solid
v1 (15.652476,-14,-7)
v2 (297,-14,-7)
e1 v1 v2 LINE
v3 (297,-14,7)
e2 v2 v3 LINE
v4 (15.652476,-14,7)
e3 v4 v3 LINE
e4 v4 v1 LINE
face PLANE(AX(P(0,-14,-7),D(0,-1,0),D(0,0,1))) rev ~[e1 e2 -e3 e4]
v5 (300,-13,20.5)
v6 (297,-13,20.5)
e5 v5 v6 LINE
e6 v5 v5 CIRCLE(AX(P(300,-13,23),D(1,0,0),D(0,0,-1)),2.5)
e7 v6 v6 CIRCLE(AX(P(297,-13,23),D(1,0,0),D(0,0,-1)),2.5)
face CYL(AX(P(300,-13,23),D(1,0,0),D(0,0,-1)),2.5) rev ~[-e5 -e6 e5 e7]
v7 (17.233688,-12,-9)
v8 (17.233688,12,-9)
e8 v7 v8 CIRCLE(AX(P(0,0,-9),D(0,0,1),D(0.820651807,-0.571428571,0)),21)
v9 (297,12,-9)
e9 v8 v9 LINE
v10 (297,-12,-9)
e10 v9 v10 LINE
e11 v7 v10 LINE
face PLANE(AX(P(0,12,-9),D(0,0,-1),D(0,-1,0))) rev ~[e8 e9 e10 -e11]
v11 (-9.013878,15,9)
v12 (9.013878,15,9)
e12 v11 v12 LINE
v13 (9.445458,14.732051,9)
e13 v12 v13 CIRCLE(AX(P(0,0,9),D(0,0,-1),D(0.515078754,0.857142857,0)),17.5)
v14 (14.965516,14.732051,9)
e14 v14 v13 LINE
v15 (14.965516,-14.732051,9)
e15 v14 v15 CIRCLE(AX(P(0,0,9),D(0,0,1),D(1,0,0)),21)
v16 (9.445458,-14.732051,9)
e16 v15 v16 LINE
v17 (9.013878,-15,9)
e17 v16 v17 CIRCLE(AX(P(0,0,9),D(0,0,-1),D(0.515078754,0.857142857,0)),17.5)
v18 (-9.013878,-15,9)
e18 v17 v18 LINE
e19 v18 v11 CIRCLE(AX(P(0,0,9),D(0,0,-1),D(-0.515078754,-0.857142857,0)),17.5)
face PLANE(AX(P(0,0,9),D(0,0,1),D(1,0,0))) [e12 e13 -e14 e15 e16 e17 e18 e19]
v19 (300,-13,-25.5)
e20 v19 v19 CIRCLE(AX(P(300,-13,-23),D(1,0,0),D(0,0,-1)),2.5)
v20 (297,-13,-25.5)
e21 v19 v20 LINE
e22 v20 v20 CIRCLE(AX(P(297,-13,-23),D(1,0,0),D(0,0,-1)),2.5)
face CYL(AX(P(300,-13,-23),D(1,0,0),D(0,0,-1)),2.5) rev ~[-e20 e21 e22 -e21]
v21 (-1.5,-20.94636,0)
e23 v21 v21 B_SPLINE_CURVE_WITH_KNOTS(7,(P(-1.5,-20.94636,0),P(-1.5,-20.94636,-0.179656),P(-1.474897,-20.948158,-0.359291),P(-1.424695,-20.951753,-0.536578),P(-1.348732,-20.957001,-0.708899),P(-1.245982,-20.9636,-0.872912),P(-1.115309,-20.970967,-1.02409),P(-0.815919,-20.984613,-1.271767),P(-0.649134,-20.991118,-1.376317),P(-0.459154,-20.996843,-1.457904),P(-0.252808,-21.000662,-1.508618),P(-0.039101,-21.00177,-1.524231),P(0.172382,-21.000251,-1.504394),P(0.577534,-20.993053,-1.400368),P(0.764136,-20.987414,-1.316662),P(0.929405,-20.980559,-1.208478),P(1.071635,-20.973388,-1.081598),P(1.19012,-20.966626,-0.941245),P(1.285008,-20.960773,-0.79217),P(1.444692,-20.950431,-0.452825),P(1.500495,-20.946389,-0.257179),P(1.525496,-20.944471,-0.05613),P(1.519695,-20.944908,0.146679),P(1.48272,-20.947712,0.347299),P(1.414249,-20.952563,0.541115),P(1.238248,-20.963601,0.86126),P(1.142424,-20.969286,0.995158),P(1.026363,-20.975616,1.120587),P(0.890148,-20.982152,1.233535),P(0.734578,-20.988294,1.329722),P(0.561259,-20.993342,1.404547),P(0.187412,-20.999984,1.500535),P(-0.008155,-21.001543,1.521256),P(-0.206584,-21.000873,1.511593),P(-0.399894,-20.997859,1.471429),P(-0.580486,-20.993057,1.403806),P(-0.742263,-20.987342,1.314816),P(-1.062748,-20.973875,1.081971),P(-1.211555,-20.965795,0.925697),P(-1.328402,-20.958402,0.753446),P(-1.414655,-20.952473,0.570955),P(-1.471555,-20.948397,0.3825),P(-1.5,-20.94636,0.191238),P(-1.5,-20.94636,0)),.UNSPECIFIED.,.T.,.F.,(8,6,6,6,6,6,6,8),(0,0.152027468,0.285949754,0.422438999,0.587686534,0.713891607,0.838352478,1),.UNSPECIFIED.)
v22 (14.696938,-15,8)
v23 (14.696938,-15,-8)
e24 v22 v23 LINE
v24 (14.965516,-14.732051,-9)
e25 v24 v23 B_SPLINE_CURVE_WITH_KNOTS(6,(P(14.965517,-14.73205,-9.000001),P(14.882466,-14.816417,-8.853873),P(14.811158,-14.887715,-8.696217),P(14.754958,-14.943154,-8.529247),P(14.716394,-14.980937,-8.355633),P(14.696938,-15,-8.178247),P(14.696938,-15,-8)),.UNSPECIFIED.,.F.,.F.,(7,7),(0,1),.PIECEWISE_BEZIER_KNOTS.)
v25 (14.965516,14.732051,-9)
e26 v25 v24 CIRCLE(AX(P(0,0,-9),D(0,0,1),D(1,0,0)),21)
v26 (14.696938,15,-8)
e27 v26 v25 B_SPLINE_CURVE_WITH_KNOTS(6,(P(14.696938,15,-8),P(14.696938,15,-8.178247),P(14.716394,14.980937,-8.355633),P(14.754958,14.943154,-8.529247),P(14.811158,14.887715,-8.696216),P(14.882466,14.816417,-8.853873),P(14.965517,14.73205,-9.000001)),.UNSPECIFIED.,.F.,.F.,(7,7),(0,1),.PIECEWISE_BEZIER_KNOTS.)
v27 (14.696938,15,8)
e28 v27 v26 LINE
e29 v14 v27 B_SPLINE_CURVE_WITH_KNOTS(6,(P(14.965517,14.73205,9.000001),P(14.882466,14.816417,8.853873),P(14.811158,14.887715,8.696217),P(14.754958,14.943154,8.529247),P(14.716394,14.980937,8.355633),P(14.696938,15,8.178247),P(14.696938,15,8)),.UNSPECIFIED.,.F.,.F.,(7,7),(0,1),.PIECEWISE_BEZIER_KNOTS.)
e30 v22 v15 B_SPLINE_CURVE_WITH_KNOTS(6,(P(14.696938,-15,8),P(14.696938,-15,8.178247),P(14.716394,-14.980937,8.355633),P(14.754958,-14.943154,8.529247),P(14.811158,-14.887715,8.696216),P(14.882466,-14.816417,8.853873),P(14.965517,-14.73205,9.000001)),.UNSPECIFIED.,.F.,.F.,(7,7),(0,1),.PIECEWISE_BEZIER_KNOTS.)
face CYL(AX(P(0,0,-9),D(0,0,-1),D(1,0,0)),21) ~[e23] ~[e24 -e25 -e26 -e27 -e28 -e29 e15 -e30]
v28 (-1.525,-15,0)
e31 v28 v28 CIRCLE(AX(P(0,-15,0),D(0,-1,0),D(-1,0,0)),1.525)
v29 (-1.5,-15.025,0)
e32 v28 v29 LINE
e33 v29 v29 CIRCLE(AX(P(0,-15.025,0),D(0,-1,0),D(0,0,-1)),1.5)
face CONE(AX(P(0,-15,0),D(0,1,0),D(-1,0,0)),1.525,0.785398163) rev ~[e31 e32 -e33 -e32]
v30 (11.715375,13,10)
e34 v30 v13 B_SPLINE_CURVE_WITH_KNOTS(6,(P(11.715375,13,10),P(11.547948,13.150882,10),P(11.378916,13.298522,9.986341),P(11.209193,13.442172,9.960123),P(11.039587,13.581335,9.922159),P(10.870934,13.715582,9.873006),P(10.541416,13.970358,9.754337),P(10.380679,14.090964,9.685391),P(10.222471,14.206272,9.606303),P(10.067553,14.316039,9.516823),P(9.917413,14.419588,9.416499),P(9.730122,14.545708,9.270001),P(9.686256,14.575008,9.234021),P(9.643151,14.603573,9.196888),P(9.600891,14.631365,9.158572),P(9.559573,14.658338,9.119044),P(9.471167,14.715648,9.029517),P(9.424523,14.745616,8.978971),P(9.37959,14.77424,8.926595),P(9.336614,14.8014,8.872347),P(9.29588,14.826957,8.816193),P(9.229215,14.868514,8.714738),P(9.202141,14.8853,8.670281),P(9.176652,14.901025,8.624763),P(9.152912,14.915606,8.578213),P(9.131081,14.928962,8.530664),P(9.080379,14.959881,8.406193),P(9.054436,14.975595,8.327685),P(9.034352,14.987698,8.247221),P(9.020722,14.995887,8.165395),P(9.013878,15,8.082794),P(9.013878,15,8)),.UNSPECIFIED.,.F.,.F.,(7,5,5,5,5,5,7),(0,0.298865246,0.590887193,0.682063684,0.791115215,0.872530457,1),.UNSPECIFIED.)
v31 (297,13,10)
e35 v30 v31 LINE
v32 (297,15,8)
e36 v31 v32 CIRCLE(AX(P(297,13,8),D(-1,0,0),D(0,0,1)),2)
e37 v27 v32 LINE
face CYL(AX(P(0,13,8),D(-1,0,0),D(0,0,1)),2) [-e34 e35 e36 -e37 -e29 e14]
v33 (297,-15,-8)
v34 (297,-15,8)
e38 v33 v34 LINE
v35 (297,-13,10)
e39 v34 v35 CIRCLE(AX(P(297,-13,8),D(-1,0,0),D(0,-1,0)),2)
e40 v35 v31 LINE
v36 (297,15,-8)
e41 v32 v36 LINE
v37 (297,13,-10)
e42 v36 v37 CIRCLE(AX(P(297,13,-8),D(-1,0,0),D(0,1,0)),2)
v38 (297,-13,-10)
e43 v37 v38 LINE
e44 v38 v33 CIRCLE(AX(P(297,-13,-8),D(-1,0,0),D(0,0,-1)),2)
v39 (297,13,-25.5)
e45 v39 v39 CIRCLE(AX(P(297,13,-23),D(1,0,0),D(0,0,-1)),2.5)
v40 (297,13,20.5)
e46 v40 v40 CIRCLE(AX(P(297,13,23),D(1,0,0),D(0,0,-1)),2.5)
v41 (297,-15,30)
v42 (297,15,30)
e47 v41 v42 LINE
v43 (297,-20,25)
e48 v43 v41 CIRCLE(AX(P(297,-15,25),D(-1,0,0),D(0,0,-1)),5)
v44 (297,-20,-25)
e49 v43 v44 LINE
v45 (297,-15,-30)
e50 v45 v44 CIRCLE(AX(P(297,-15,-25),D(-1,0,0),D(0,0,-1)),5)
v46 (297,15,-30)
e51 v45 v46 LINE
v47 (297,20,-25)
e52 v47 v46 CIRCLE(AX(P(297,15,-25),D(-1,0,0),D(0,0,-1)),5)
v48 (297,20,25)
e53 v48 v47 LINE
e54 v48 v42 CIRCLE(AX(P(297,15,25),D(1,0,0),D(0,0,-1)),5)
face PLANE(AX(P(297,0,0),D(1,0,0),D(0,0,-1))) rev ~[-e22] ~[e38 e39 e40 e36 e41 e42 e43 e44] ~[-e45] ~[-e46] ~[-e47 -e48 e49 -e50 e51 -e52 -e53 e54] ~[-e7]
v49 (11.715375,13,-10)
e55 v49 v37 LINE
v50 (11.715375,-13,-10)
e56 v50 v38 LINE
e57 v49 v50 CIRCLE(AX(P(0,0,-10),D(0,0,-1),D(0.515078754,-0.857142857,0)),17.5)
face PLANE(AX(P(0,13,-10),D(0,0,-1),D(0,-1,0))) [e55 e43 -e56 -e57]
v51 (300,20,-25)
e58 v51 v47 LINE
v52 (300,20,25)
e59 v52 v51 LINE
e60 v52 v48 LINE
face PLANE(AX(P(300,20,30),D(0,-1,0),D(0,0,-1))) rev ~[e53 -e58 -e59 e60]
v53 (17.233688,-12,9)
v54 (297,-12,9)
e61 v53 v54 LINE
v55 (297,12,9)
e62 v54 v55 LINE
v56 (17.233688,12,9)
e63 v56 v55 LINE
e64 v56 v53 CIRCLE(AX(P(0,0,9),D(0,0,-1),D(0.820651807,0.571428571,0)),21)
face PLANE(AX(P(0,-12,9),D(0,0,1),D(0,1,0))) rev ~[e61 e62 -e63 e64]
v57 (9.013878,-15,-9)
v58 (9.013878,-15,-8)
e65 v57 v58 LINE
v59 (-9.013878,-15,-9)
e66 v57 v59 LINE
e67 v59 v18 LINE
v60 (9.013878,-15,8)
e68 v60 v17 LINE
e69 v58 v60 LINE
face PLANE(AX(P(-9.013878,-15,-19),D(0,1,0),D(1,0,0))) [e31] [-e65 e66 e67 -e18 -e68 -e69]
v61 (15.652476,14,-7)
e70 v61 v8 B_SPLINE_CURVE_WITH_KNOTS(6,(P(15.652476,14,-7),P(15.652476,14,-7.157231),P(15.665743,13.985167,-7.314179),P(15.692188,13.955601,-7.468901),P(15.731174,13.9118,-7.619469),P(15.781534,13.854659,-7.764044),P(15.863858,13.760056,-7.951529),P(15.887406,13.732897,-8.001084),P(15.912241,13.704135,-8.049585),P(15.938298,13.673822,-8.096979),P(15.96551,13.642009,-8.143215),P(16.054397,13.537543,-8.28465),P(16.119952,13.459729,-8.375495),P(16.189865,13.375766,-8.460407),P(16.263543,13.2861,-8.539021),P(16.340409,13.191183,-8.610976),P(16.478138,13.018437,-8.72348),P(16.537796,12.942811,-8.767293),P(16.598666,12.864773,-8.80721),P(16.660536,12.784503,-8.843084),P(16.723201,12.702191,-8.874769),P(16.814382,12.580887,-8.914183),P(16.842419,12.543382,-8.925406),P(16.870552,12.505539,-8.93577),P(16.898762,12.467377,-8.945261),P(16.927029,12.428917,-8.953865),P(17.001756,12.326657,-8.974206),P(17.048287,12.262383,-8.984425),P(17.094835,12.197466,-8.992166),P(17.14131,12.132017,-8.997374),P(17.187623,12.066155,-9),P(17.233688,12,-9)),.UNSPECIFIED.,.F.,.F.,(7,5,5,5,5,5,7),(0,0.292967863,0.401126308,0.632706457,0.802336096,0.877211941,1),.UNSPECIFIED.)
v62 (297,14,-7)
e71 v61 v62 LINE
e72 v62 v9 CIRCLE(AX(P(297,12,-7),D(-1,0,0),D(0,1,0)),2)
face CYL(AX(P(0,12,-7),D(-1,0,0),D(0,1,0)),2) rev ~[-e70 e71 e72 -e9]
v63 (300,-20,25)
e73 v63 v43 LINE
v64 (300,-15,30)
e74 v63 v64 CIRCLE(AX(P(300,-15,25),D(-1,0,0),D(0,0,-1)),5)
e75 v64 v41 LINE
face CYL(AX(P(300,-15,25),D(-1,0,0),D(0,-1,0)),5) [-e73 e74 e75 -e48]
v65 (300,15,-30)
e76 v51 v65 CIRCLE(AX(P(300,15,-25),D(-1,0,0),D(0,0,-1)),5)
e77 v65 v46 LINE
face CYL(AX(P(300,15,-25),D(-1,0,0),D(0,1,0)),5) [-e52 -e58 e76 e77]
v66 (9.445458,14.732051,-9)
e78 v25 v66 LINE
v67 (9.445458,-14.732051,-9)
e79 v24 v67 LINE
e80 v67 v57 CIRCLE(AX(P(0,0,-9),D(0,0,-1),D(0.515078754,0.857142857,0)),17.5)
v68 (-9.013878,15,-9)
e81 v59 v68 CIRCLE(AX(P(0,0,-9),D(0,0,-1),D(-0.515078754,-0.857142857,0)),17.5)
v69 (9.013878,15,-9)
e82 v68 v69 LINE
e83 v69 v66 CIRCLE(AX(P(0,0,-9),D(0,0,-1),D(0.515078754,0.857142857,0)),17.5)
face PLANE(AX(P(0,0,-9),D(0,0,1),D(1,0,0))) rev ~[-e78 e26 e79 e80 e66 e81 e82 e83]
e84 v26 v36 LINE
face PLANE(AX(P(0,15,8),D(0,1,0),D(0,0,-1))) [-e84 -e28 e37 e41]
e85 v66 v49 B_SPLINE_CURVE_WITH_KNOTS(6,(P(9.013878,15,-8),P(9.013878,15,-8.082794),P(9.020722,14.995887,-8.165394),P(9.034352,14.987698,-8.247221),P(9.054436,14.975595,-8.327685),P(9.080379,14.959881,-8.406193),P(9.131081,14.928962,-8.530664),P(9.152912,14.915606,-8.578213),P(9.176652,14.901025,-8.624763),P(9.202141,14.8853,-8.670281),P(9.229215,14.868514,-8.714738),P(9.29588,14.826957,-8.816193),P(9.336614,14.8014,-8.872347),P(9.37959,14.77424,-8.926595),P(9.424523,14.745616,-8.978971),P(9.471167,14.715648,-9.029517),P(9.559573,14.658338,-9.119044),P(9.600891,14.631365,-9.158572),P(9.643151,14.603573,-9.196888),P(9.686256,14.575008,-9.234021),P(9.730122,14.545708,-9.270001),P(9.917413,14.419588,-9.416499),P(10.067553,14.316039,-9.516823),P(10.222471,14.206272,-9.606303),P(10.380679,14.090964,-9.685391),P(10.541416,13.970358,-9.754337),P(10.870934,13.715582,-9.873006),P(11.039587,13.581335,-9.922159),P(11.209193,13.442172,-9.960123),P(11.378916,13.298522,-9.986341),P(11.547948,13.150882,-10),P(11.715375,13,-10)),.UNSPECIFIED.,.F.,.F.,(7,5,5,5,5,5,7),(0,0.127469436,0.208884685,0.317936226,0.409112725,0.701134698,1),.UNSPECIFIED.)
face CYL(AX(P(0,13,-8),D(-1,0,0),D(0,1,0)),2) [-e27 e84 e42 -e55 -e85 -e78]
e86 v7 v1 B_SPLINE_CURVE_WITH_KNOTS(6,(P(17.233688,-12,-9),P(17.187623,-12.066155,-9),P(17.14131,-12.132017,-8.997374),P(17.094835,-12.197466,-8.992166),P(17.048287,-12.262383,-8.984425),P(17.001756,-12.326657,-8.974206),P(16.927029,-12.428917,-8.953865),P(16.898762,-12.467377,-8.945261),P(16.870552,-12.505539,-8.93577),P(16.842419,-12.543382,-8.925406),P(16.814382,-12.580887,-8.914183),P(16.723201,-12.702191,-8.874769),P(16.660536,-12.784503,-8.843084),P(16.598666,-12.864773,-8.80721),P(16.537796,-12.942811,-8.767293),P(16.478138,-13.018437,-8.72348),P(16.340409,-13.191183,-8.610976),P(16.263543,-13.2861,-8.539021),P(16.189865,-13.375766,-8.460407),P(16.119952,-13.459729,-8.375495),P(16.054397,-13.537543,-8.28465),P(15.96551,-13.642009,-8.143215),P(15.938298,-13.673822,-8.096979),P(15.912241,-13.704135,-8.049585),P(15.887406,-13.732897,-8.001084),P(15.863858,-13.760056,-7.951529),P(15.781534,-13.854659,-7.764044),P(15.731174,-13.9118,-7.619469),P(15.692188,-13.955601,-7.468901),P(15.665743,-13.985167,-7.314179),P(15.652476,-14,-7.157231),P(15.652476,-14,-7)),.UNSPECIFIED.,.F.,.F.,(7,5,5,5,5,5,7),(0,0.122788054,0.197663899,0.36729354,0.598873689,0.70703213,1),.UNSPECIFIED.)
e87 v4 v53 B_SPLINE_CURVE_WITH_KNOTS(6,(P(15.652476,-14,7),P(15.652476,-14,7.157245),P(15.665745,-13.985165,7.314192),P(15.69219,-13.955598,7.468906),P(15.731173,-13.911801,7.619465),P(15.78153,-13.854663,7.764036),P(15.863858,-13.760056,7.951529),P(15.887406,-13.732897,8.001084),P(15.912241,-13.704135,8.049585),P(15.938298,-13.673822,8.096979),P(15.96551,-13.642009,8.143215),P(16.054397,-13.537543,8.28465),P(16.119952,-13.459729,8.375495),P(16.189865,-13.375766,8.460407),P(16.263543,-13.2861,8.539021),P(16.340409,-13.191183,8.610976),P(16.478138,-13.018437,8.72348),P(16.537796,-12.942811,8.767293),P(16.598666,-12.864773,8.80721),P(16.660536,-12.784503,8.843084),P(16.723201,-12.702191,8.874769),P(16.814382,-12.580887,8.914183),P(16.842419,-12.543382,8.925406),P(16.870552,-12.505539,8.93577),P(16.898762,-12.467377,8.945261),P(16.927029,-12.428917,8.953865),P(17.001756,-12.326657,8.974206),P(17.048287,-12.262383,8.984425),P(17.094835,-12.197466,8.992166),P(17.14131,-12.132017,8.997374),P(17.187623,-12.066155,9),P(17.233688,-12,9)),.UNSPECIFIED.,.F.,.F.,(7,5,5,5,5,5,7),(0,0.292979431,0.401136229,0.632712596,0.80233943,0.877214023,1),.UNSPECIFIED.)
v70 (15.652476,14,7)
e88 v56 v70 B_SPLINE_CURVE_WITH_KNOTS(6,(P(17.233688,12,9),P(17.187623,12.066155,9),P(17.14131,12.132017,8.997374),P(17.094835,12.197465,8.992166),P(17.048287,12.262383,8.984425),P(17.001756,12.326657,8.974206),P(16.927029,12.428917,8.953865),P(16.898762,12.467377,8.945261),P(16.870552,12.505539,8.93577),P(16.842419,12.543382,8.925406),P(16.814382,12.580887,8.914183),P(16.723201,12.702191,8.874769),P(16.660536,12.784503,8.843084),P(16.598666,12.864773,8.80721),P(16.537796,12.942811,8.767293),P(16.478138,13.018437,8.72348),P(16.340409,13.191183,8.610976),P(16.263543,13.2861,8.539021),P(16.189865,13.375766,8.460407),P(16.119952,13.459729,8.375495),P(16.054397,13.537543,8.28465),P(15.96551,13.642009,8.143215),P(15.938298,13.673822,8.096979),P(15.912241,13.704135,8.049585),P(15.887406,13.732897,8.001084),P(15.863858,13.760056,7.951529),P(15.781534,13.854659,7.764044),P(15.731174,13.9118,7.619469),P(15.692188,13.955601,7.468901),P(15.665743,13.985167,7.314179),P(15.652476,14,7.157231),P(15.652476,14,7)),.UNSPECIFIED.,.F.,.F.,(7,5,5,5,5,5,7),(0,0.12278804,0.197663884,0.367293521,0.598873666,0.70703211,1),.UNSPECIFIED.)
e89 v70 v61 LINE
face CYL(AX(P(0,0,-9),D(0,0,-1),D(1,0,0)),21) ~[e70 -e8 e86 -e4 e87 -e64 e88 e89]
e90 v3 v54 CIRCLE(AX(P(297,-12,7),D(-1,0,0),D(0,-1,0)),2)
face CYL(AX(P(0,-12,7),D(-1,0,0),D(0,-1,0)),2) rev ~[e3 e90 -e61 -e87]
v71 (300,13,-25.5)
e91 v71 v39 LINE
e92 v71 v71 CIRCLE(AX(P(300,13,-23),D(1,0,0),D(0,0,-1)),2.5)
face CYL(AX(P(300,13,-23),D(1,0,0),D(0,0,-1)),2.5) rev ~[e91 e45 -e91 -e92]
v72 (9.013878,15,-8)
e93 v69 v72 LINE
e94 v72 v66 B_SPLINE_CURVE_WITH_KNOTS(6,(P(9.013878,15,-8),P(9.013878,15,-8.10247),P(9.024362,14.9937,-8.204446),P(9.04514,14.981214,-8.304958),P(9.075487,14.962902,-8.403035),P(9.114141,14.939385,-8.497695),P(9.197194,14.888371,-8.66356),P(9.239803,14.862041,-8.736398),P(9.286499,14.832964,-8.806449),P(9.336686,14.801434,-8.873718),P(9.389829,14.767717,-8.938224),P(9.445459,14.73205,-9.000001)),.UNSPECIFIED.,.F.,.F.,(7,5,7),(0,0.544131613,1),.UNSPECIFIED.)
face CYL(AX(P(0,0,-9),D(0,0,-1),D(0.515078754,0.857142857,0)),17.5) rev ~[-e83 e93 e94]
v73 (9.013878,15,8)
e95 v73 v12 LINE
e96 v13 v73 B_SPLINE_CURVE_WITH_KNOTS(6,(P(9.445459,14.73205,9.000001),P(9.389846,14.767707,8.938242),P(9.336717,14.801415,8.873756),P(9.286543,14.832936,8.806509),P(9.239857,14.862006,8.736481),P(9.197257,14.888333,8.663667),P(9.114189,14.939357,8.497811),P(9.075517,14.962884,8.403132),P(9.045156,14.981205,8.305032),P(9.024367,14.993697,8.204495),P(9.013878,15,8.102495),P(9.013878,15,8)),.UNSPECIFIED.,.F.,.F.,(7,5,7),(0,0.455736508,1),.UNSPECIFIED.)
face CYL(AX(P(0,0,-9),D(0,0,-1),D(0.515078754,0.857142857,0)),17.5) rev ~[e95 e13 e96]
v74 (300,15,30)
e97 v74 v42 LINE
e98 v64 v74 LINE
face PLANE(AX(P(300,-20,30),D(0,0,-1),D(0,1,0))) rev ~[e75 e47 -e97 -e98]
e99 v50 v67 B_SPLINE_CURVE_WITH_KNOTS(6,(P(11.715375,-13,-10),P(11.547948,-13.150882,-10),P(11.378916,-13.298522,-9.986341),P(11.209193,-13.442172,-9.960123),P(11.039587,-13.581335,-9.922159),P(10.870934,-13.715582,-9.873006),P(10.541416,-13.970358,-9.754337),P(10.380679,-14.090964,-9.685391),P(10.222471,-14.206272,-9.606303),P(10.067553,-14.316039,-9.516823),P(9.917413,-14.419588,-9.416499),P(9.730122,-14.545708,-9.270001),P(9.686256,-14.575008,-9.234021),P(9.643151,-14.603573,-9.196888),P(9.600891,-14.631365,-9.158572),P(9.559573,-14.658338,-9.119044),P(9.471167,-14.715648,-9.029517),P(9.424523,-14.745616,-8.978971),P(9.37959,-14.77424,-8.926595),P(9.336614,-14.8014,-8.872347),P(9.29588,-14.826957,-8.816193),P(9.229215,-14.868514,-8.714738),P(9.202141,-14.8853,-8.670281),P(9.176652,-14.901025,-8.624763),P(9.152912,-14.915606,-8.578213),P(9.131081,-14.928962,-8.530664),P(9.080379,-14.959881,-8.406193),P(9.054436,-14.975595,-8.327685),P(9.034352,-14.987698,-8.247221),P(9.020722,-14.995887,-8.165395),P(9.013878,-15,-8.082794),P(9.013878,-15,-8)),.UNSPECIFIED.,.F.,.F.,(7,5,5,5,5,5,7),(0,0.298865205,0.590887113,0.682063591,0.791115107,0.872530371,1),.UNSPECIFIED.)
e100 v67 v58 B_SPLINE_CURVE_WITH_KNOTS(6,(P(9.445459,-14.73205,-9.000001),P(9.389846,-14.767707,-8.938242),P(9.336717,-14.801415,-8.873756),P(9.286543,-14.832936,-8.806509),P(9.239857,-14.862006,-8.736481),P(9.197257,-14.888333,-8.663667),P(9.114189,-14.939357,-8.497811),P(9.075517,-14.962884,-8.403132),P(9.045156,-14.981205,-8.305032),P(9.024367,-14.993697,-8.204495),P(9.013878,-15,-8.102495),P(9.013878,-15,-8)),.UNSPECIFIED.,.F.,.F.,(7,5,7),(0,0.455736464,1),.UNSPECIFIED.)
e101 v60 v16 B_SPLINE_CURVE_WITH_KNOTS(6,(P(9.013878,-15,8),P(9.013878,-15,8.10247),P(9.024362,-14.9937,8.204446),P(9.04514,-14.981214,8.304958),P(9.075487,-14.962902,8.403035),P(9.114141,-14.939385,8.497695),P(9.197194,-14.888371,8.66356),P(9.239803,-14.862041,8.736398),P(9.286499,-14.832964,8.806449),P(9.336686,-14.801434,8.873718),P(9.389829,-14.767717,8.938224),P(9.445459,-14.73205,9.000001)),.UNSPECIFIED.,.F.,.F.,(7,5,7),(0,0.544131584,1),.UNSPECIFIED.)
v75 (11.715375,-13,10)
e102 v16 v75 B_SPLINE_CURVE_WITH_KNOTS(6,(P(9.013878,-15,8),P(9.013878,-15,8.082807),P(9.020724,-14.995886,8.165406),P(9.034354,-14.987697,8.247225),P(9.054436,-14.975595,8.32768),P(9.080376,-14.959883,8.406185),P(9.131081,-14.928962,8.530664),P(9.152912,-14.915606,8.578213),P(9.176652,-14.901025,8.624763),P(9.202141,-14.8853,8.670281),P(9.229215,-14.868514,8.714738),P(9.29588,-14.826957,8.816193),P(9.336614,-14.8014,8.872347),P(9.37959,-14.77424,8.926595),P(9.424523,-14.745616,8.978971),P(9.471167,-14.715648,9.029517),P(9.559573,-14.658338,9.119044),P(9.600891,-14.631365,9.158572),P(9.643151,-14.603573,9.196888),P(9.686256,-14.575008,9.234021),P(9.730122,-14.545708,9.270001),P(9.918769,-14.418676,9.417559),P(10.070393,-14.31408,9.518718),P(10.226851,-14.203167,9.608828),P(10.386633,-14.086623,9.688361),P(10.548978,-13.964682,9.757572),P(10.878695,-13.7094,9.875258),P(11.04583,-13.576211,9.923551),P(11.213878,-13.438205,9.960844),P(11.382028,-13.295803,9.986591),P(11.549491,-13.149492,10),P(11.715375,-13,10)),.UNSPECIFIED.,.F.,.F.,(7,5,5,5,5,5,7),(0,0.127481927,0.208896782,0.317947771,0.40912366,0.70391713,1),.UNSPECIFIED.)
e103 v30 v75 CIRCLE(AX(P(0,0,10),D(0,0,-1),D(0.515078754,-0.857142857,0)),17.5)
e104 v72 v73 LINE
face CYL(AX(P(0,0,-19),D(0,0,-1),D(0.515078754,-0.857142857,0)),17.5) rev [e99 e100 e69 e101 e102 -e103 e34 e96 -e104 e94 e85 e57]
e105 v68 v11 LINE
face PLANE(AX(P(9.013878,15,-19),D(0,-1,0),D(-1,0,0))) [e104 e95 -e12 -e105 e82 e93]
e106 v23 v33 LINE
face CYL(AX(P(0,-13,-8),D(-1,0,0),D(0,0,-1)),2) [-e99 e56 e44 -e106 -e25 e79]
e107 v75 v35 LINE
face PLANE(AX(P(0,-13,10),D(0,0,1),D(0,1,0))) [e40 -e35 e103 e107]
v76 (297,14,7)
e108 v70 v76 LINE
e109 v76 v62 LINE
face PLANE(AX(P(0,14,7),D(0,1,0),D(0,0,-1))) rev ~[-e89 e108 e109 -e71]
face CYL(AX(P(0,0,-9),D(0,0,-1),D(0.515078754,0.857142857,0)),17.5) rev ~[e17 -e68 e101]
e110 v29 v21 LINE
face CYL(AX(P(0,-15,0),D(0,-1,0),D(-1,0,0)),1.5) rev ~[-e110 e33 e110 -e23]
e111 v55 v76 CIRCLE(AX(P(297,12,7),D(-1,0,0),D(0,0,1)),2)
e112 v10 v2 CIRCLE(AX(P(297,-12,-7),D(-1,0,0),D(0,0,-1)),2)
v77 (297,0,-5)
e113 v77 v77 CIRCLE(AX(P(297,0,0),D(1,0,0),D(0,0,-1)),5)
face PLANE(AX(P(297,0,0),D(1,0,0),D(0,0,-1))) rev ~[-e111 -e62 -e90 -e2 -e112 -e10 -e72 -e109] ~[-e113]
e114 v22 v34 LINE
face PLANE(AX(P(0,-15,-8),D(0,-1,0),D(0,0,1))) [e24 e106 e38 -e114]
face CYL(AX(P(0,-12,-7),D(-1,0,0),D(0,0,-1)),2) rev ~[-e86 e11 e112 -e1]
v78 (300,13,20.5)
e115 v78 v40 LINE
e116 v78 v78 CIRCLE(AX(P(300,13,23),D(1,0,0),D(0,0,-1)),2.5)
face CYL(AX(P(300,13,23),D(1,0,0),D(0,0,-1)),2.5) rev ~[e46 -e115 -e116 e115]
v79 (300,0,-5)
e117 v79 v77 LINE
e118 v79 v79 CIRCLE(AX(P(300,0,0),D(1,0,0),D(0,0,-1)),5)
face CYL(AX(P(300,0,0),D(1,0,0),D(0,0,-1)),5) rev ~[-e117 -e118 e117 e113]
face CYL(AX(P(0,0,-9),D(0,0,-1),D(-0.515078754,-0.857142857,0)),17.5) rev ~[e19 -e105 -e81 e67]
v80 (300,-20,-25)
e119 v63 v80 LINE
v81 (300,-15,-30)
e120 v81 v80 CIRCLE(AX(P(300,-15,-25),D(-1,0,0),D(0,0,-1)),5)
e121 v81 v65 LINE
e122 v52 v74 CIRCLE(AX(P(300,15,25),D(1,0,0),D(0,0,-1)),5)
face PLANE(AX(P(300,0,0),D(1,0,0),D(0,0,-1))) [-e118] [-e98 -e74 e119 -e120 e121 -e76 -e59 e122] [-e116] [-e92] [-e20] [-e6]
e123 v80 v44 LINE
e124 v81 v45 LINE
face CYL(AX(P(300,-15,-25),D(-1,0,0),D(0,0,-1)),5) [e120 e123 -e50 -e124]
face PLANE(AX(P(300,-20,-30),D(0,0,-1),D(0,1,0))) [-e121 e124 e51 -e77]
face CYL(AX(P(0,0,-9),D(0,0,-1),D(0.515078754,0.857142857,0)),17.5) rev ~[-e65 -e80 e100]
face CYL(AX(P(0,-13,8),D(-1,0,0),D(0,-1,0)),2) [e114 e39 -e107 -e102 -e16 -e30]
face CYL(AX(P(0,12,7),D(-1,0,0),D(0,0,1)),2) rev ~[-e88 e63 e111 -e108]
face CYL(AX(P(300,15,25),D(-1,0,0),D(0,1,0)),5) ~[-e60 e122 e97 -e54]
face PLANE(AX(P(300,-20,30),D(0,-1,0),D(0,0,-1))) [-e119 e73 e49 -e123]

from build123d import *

# Parameters (mm, degrees)
BOSS_EXTRUDE1_DEPTH             = 300
SKETCH9_W                       = 60.00000000000001
SKETCH9_H                       = 40.00000000000001
SKETCH9_R                       = 5.000000000000005
SKETCH9_R_2                     = 2.5000000000000018
BOSS_EXTRUDE2_DEPTH             = 3
BOSS_EXTRUDE3_DEPTH             = 9
BOSS_EXTRUDE3_DEPTH_BACK        = 9
SKETCH10_R                      = 21
CUT_EXTRUDE1_DEPTH              = 19
CUT_EXTRUDE1_DEPTH_BACK         = 19
F_3_0MM_DOWEL_HOLE1_D           = 3
F_3_0MM_DOWEL_HOLE1_DEPTH       = 7.5
F_3_0MM_DOWEL_HOLE1_CSINK_D     = 3.05
F_3_0MM_DOWEL_HOLE1_CSINK_ANGLE = 90
F_3_0MM_DOWEL_HOLE1_TIP         = 0.9012909285413404
FILLET1_R                       = 5


with BuildPart() as part:
    # Sketch2 → Boss-Extrude1 (new body)
    with BuildSketch(Plane(origin=(0, 0, 0), x_dir=(0, 0, -1), z_dir=(1, 0, 0))):
        with BuildLine():
            Line((-7.999999999999989, 15), (7.999999999999983, 15))
            ThreePointArc((7.999999999999983, 15), (9.414213562373092, 14.414213562373094), (9.999999999999996, 12.999999999999986))
            Line((9.999999999999996, 12.999999999999986), (10, -12.999999999999986))
            ThreePointArc((10, -12.999999999999986), (9.414213562373096, -14.414213562373094), (7.999999999999987, -15))
            Line((7.999999999999987, -15), (-7.999999999999987, -15))
            ThreePointArc((-7.999999999999987, -15), (-9.414213562373096, -14.414213562373094), (-10, -12.999999999999986))
            Line((-10, -12.999999999999986), (-10.000000000000004, 12.999999999999986))
            ThreePointArc((-10.000000000000004, 12.999999999999986), (-9.4142135623731, 14.414213562373096), (-7.999999999999989, 15))
        make_face()
        with BuildLine():
            Line((-6.999999999999988, 13.999999999999996), (6.999999999999982, 13.999999999999996))
            ThreePointArc((6.999999999999982, 13.999999999999996), (8.41421356237309, 13.41421356237309), (8.999999999999996, 11.999999999999982))
            Line((8.999999999999996, 11.999999999999982), (9.000000000000002, -11.999999999999988))
            ThreePointArc((9.000000000000002, -11.999999999999988), (8.414213562373096, -13.414213562373098), (6.999999999999987, -14.000000000000002))
            Line((6.999999999999987, -14.000000000000002), (-6.999999999999984, -14.000000000000002))
            ThreePointArc((-6.999999999999984, -14.000000000000002), (-8.414213562373092, -13.414213562373096), (-8.999999999999998, -11.999999999999988))
            Line((-8.999999999999998, -11.999999999999988), (-9.000000000000004, 11.999999999999982))
            ThreePointArc((-9.000000000000004, 11.999999999999982), (-8.4142135623731, 13.414213562373092), (-6.999999999999988, 13.999999999999996))
        make_face(mode=Mode.SUBTRACT)
    extrude(amount=BOSS_EXTRUDE1_DEPTH)

    # Sketch9 → Boss-Extrude2 (add)
    with BuildSketch(Plane(origin=(300, 0, 0), x_dir=(0, 0, -1), z_dir=(1, 0, 0))):
        Rectangle(SKETCH9_W, SKETCH9_H)
        Circle(SKETCH9_R, mode=Mode.SUBTRACT)
        with Locations((-22.999999999999996, -13)):
            Circle(SKETCH9_R_2, mode=Mode.SUBTRACT)
        with Locations((-23, 13)):
            Circle(SKETCH9_R_2, mode=Mode.SUBTRACT)
        with Locations((22.999999999999996, -13)):
            Circle(SKETCH9_R_2, mode=Mode.SUBTRACT)
        with Locations((23, 13)):
            Circle(SKETCH9_R_2, mode=Mode.SUBTRACT)
    extrude(amount=-BOSS_EXTRUDE2_DEPTH)

    # Sketch10 → Boss-Extrude3 (add, two sides: drawn at the far end of the back side and taken through both)
    with BuildSketch(Plane.XY.offset(-BOSS_EXTRUDE3_DEPTH_BACK)):
        Circle(SKETCH10_R)
        with BuildLine():
            Line((9.013878188659977, -15.000000000000002), (-9.013878188659977, -15.000000000000002))
            ThreePointArc((-9.013878188659973, -15.000000000000004), (-17.500000000000004, -1.34e-14), (-9.013878188659987, 14.999999999999995))
            Line((-9.013878188659984, 14.999999999999996), (9.013878188659984, 14.999999999999996))
            ThreePointArc((9.013878188659984, 14.999999999999996), (17.500000000000004, -7.11e-15), (9.013878188659977, -15.000000000000004))
        make_face(mode=Mode.SUBTRACT)
    extrude(amount=BOSS_EXTRUDE3_DEPTH + BOSS_EXTRUDE3_DEPTH_BACK)

    # Sketch10<3> → Cut-Extrude1 (cut, two sides: drawn at the far end of the back side and taken through both)
    with BuildSketch(Plane.XY.offset(-CUT_EXTRUDE1_DEPTH_BACK)):
        with BuildLine():
            Line((-9.013878188659977, -15.000000000000002), (9.013878188659977, -15.000000000000002))
            ThreePointArc((9.013878188659966, -15.000000000000009), (15.231429156542559, -8.617050878881091), (17.500000000000004, -4.29e-15))
            ThreePointArc((17.500000000000004, 0), (15.231429156542566, 8.617050878881079), (9.013878188659985, 14.999999999999996))
            Line((9.013878188659984, 14.999999999999996), (-9.013878188659984, 14.999999999999996))
            ThreePointArc((-9.013878188659987, 14.999999999999995), (-17.500000000000004, -1.34e-14), (-9.013878188659973, -15.000000000000004))
        make_face()
    extrude(amount=CUT_EXTRUDE1_DEPTH + CUT_EXTRUDE1_DEPTH_BACK, mode=Mode.SUBTRACT)

    # Ø3.0mm Dowel Hole1
    with Locations(Plane(origin=(0, -15.000000000000002, 0), x_dir=(1, 0, 0), z_dir=(0, 1, 0))):
        with Locations((0, 0)):
            CounterSinkHole(F_3_0MM_DOWEL_HOLE1_D / 2, F_3_0MM_DOWEL_HOLE1_CSINK_D / 2, depth=F_3_0MM_DOWEL_HOLE1_DEPTH, counter_sink_angle=F_3_0MM_DOWEL_HOLE1_CSINK_ANGLE)
            with Locations((0, 0, -(F_3_0MM_DOWEL_HOLE1_DEPTH + F_3_0MM_DOWEL_HOLE1_TIP / 2))):  # 118° drill point
                Cone(0, F_3_0MM_DOWEL_HOLE1_D / 2, F_3_0MM_DOWEL_HOLE1_TIP, mode=Mode.SUBTRACT)

    # Fillet1
    fillet1_edges = [part.edges().sort_by_distance(p)[0] for p in [
        (298.5, 20.000000000000004, 30),
        (298.5, -20.000000000000004, 30),
        (298.5, -20.000000000000004, -30),
        (298.5, 20.000000000000004, -30),
    ]]
    fillet(fillet1_edges, radius=FILLET1_R)


solid = part.part
